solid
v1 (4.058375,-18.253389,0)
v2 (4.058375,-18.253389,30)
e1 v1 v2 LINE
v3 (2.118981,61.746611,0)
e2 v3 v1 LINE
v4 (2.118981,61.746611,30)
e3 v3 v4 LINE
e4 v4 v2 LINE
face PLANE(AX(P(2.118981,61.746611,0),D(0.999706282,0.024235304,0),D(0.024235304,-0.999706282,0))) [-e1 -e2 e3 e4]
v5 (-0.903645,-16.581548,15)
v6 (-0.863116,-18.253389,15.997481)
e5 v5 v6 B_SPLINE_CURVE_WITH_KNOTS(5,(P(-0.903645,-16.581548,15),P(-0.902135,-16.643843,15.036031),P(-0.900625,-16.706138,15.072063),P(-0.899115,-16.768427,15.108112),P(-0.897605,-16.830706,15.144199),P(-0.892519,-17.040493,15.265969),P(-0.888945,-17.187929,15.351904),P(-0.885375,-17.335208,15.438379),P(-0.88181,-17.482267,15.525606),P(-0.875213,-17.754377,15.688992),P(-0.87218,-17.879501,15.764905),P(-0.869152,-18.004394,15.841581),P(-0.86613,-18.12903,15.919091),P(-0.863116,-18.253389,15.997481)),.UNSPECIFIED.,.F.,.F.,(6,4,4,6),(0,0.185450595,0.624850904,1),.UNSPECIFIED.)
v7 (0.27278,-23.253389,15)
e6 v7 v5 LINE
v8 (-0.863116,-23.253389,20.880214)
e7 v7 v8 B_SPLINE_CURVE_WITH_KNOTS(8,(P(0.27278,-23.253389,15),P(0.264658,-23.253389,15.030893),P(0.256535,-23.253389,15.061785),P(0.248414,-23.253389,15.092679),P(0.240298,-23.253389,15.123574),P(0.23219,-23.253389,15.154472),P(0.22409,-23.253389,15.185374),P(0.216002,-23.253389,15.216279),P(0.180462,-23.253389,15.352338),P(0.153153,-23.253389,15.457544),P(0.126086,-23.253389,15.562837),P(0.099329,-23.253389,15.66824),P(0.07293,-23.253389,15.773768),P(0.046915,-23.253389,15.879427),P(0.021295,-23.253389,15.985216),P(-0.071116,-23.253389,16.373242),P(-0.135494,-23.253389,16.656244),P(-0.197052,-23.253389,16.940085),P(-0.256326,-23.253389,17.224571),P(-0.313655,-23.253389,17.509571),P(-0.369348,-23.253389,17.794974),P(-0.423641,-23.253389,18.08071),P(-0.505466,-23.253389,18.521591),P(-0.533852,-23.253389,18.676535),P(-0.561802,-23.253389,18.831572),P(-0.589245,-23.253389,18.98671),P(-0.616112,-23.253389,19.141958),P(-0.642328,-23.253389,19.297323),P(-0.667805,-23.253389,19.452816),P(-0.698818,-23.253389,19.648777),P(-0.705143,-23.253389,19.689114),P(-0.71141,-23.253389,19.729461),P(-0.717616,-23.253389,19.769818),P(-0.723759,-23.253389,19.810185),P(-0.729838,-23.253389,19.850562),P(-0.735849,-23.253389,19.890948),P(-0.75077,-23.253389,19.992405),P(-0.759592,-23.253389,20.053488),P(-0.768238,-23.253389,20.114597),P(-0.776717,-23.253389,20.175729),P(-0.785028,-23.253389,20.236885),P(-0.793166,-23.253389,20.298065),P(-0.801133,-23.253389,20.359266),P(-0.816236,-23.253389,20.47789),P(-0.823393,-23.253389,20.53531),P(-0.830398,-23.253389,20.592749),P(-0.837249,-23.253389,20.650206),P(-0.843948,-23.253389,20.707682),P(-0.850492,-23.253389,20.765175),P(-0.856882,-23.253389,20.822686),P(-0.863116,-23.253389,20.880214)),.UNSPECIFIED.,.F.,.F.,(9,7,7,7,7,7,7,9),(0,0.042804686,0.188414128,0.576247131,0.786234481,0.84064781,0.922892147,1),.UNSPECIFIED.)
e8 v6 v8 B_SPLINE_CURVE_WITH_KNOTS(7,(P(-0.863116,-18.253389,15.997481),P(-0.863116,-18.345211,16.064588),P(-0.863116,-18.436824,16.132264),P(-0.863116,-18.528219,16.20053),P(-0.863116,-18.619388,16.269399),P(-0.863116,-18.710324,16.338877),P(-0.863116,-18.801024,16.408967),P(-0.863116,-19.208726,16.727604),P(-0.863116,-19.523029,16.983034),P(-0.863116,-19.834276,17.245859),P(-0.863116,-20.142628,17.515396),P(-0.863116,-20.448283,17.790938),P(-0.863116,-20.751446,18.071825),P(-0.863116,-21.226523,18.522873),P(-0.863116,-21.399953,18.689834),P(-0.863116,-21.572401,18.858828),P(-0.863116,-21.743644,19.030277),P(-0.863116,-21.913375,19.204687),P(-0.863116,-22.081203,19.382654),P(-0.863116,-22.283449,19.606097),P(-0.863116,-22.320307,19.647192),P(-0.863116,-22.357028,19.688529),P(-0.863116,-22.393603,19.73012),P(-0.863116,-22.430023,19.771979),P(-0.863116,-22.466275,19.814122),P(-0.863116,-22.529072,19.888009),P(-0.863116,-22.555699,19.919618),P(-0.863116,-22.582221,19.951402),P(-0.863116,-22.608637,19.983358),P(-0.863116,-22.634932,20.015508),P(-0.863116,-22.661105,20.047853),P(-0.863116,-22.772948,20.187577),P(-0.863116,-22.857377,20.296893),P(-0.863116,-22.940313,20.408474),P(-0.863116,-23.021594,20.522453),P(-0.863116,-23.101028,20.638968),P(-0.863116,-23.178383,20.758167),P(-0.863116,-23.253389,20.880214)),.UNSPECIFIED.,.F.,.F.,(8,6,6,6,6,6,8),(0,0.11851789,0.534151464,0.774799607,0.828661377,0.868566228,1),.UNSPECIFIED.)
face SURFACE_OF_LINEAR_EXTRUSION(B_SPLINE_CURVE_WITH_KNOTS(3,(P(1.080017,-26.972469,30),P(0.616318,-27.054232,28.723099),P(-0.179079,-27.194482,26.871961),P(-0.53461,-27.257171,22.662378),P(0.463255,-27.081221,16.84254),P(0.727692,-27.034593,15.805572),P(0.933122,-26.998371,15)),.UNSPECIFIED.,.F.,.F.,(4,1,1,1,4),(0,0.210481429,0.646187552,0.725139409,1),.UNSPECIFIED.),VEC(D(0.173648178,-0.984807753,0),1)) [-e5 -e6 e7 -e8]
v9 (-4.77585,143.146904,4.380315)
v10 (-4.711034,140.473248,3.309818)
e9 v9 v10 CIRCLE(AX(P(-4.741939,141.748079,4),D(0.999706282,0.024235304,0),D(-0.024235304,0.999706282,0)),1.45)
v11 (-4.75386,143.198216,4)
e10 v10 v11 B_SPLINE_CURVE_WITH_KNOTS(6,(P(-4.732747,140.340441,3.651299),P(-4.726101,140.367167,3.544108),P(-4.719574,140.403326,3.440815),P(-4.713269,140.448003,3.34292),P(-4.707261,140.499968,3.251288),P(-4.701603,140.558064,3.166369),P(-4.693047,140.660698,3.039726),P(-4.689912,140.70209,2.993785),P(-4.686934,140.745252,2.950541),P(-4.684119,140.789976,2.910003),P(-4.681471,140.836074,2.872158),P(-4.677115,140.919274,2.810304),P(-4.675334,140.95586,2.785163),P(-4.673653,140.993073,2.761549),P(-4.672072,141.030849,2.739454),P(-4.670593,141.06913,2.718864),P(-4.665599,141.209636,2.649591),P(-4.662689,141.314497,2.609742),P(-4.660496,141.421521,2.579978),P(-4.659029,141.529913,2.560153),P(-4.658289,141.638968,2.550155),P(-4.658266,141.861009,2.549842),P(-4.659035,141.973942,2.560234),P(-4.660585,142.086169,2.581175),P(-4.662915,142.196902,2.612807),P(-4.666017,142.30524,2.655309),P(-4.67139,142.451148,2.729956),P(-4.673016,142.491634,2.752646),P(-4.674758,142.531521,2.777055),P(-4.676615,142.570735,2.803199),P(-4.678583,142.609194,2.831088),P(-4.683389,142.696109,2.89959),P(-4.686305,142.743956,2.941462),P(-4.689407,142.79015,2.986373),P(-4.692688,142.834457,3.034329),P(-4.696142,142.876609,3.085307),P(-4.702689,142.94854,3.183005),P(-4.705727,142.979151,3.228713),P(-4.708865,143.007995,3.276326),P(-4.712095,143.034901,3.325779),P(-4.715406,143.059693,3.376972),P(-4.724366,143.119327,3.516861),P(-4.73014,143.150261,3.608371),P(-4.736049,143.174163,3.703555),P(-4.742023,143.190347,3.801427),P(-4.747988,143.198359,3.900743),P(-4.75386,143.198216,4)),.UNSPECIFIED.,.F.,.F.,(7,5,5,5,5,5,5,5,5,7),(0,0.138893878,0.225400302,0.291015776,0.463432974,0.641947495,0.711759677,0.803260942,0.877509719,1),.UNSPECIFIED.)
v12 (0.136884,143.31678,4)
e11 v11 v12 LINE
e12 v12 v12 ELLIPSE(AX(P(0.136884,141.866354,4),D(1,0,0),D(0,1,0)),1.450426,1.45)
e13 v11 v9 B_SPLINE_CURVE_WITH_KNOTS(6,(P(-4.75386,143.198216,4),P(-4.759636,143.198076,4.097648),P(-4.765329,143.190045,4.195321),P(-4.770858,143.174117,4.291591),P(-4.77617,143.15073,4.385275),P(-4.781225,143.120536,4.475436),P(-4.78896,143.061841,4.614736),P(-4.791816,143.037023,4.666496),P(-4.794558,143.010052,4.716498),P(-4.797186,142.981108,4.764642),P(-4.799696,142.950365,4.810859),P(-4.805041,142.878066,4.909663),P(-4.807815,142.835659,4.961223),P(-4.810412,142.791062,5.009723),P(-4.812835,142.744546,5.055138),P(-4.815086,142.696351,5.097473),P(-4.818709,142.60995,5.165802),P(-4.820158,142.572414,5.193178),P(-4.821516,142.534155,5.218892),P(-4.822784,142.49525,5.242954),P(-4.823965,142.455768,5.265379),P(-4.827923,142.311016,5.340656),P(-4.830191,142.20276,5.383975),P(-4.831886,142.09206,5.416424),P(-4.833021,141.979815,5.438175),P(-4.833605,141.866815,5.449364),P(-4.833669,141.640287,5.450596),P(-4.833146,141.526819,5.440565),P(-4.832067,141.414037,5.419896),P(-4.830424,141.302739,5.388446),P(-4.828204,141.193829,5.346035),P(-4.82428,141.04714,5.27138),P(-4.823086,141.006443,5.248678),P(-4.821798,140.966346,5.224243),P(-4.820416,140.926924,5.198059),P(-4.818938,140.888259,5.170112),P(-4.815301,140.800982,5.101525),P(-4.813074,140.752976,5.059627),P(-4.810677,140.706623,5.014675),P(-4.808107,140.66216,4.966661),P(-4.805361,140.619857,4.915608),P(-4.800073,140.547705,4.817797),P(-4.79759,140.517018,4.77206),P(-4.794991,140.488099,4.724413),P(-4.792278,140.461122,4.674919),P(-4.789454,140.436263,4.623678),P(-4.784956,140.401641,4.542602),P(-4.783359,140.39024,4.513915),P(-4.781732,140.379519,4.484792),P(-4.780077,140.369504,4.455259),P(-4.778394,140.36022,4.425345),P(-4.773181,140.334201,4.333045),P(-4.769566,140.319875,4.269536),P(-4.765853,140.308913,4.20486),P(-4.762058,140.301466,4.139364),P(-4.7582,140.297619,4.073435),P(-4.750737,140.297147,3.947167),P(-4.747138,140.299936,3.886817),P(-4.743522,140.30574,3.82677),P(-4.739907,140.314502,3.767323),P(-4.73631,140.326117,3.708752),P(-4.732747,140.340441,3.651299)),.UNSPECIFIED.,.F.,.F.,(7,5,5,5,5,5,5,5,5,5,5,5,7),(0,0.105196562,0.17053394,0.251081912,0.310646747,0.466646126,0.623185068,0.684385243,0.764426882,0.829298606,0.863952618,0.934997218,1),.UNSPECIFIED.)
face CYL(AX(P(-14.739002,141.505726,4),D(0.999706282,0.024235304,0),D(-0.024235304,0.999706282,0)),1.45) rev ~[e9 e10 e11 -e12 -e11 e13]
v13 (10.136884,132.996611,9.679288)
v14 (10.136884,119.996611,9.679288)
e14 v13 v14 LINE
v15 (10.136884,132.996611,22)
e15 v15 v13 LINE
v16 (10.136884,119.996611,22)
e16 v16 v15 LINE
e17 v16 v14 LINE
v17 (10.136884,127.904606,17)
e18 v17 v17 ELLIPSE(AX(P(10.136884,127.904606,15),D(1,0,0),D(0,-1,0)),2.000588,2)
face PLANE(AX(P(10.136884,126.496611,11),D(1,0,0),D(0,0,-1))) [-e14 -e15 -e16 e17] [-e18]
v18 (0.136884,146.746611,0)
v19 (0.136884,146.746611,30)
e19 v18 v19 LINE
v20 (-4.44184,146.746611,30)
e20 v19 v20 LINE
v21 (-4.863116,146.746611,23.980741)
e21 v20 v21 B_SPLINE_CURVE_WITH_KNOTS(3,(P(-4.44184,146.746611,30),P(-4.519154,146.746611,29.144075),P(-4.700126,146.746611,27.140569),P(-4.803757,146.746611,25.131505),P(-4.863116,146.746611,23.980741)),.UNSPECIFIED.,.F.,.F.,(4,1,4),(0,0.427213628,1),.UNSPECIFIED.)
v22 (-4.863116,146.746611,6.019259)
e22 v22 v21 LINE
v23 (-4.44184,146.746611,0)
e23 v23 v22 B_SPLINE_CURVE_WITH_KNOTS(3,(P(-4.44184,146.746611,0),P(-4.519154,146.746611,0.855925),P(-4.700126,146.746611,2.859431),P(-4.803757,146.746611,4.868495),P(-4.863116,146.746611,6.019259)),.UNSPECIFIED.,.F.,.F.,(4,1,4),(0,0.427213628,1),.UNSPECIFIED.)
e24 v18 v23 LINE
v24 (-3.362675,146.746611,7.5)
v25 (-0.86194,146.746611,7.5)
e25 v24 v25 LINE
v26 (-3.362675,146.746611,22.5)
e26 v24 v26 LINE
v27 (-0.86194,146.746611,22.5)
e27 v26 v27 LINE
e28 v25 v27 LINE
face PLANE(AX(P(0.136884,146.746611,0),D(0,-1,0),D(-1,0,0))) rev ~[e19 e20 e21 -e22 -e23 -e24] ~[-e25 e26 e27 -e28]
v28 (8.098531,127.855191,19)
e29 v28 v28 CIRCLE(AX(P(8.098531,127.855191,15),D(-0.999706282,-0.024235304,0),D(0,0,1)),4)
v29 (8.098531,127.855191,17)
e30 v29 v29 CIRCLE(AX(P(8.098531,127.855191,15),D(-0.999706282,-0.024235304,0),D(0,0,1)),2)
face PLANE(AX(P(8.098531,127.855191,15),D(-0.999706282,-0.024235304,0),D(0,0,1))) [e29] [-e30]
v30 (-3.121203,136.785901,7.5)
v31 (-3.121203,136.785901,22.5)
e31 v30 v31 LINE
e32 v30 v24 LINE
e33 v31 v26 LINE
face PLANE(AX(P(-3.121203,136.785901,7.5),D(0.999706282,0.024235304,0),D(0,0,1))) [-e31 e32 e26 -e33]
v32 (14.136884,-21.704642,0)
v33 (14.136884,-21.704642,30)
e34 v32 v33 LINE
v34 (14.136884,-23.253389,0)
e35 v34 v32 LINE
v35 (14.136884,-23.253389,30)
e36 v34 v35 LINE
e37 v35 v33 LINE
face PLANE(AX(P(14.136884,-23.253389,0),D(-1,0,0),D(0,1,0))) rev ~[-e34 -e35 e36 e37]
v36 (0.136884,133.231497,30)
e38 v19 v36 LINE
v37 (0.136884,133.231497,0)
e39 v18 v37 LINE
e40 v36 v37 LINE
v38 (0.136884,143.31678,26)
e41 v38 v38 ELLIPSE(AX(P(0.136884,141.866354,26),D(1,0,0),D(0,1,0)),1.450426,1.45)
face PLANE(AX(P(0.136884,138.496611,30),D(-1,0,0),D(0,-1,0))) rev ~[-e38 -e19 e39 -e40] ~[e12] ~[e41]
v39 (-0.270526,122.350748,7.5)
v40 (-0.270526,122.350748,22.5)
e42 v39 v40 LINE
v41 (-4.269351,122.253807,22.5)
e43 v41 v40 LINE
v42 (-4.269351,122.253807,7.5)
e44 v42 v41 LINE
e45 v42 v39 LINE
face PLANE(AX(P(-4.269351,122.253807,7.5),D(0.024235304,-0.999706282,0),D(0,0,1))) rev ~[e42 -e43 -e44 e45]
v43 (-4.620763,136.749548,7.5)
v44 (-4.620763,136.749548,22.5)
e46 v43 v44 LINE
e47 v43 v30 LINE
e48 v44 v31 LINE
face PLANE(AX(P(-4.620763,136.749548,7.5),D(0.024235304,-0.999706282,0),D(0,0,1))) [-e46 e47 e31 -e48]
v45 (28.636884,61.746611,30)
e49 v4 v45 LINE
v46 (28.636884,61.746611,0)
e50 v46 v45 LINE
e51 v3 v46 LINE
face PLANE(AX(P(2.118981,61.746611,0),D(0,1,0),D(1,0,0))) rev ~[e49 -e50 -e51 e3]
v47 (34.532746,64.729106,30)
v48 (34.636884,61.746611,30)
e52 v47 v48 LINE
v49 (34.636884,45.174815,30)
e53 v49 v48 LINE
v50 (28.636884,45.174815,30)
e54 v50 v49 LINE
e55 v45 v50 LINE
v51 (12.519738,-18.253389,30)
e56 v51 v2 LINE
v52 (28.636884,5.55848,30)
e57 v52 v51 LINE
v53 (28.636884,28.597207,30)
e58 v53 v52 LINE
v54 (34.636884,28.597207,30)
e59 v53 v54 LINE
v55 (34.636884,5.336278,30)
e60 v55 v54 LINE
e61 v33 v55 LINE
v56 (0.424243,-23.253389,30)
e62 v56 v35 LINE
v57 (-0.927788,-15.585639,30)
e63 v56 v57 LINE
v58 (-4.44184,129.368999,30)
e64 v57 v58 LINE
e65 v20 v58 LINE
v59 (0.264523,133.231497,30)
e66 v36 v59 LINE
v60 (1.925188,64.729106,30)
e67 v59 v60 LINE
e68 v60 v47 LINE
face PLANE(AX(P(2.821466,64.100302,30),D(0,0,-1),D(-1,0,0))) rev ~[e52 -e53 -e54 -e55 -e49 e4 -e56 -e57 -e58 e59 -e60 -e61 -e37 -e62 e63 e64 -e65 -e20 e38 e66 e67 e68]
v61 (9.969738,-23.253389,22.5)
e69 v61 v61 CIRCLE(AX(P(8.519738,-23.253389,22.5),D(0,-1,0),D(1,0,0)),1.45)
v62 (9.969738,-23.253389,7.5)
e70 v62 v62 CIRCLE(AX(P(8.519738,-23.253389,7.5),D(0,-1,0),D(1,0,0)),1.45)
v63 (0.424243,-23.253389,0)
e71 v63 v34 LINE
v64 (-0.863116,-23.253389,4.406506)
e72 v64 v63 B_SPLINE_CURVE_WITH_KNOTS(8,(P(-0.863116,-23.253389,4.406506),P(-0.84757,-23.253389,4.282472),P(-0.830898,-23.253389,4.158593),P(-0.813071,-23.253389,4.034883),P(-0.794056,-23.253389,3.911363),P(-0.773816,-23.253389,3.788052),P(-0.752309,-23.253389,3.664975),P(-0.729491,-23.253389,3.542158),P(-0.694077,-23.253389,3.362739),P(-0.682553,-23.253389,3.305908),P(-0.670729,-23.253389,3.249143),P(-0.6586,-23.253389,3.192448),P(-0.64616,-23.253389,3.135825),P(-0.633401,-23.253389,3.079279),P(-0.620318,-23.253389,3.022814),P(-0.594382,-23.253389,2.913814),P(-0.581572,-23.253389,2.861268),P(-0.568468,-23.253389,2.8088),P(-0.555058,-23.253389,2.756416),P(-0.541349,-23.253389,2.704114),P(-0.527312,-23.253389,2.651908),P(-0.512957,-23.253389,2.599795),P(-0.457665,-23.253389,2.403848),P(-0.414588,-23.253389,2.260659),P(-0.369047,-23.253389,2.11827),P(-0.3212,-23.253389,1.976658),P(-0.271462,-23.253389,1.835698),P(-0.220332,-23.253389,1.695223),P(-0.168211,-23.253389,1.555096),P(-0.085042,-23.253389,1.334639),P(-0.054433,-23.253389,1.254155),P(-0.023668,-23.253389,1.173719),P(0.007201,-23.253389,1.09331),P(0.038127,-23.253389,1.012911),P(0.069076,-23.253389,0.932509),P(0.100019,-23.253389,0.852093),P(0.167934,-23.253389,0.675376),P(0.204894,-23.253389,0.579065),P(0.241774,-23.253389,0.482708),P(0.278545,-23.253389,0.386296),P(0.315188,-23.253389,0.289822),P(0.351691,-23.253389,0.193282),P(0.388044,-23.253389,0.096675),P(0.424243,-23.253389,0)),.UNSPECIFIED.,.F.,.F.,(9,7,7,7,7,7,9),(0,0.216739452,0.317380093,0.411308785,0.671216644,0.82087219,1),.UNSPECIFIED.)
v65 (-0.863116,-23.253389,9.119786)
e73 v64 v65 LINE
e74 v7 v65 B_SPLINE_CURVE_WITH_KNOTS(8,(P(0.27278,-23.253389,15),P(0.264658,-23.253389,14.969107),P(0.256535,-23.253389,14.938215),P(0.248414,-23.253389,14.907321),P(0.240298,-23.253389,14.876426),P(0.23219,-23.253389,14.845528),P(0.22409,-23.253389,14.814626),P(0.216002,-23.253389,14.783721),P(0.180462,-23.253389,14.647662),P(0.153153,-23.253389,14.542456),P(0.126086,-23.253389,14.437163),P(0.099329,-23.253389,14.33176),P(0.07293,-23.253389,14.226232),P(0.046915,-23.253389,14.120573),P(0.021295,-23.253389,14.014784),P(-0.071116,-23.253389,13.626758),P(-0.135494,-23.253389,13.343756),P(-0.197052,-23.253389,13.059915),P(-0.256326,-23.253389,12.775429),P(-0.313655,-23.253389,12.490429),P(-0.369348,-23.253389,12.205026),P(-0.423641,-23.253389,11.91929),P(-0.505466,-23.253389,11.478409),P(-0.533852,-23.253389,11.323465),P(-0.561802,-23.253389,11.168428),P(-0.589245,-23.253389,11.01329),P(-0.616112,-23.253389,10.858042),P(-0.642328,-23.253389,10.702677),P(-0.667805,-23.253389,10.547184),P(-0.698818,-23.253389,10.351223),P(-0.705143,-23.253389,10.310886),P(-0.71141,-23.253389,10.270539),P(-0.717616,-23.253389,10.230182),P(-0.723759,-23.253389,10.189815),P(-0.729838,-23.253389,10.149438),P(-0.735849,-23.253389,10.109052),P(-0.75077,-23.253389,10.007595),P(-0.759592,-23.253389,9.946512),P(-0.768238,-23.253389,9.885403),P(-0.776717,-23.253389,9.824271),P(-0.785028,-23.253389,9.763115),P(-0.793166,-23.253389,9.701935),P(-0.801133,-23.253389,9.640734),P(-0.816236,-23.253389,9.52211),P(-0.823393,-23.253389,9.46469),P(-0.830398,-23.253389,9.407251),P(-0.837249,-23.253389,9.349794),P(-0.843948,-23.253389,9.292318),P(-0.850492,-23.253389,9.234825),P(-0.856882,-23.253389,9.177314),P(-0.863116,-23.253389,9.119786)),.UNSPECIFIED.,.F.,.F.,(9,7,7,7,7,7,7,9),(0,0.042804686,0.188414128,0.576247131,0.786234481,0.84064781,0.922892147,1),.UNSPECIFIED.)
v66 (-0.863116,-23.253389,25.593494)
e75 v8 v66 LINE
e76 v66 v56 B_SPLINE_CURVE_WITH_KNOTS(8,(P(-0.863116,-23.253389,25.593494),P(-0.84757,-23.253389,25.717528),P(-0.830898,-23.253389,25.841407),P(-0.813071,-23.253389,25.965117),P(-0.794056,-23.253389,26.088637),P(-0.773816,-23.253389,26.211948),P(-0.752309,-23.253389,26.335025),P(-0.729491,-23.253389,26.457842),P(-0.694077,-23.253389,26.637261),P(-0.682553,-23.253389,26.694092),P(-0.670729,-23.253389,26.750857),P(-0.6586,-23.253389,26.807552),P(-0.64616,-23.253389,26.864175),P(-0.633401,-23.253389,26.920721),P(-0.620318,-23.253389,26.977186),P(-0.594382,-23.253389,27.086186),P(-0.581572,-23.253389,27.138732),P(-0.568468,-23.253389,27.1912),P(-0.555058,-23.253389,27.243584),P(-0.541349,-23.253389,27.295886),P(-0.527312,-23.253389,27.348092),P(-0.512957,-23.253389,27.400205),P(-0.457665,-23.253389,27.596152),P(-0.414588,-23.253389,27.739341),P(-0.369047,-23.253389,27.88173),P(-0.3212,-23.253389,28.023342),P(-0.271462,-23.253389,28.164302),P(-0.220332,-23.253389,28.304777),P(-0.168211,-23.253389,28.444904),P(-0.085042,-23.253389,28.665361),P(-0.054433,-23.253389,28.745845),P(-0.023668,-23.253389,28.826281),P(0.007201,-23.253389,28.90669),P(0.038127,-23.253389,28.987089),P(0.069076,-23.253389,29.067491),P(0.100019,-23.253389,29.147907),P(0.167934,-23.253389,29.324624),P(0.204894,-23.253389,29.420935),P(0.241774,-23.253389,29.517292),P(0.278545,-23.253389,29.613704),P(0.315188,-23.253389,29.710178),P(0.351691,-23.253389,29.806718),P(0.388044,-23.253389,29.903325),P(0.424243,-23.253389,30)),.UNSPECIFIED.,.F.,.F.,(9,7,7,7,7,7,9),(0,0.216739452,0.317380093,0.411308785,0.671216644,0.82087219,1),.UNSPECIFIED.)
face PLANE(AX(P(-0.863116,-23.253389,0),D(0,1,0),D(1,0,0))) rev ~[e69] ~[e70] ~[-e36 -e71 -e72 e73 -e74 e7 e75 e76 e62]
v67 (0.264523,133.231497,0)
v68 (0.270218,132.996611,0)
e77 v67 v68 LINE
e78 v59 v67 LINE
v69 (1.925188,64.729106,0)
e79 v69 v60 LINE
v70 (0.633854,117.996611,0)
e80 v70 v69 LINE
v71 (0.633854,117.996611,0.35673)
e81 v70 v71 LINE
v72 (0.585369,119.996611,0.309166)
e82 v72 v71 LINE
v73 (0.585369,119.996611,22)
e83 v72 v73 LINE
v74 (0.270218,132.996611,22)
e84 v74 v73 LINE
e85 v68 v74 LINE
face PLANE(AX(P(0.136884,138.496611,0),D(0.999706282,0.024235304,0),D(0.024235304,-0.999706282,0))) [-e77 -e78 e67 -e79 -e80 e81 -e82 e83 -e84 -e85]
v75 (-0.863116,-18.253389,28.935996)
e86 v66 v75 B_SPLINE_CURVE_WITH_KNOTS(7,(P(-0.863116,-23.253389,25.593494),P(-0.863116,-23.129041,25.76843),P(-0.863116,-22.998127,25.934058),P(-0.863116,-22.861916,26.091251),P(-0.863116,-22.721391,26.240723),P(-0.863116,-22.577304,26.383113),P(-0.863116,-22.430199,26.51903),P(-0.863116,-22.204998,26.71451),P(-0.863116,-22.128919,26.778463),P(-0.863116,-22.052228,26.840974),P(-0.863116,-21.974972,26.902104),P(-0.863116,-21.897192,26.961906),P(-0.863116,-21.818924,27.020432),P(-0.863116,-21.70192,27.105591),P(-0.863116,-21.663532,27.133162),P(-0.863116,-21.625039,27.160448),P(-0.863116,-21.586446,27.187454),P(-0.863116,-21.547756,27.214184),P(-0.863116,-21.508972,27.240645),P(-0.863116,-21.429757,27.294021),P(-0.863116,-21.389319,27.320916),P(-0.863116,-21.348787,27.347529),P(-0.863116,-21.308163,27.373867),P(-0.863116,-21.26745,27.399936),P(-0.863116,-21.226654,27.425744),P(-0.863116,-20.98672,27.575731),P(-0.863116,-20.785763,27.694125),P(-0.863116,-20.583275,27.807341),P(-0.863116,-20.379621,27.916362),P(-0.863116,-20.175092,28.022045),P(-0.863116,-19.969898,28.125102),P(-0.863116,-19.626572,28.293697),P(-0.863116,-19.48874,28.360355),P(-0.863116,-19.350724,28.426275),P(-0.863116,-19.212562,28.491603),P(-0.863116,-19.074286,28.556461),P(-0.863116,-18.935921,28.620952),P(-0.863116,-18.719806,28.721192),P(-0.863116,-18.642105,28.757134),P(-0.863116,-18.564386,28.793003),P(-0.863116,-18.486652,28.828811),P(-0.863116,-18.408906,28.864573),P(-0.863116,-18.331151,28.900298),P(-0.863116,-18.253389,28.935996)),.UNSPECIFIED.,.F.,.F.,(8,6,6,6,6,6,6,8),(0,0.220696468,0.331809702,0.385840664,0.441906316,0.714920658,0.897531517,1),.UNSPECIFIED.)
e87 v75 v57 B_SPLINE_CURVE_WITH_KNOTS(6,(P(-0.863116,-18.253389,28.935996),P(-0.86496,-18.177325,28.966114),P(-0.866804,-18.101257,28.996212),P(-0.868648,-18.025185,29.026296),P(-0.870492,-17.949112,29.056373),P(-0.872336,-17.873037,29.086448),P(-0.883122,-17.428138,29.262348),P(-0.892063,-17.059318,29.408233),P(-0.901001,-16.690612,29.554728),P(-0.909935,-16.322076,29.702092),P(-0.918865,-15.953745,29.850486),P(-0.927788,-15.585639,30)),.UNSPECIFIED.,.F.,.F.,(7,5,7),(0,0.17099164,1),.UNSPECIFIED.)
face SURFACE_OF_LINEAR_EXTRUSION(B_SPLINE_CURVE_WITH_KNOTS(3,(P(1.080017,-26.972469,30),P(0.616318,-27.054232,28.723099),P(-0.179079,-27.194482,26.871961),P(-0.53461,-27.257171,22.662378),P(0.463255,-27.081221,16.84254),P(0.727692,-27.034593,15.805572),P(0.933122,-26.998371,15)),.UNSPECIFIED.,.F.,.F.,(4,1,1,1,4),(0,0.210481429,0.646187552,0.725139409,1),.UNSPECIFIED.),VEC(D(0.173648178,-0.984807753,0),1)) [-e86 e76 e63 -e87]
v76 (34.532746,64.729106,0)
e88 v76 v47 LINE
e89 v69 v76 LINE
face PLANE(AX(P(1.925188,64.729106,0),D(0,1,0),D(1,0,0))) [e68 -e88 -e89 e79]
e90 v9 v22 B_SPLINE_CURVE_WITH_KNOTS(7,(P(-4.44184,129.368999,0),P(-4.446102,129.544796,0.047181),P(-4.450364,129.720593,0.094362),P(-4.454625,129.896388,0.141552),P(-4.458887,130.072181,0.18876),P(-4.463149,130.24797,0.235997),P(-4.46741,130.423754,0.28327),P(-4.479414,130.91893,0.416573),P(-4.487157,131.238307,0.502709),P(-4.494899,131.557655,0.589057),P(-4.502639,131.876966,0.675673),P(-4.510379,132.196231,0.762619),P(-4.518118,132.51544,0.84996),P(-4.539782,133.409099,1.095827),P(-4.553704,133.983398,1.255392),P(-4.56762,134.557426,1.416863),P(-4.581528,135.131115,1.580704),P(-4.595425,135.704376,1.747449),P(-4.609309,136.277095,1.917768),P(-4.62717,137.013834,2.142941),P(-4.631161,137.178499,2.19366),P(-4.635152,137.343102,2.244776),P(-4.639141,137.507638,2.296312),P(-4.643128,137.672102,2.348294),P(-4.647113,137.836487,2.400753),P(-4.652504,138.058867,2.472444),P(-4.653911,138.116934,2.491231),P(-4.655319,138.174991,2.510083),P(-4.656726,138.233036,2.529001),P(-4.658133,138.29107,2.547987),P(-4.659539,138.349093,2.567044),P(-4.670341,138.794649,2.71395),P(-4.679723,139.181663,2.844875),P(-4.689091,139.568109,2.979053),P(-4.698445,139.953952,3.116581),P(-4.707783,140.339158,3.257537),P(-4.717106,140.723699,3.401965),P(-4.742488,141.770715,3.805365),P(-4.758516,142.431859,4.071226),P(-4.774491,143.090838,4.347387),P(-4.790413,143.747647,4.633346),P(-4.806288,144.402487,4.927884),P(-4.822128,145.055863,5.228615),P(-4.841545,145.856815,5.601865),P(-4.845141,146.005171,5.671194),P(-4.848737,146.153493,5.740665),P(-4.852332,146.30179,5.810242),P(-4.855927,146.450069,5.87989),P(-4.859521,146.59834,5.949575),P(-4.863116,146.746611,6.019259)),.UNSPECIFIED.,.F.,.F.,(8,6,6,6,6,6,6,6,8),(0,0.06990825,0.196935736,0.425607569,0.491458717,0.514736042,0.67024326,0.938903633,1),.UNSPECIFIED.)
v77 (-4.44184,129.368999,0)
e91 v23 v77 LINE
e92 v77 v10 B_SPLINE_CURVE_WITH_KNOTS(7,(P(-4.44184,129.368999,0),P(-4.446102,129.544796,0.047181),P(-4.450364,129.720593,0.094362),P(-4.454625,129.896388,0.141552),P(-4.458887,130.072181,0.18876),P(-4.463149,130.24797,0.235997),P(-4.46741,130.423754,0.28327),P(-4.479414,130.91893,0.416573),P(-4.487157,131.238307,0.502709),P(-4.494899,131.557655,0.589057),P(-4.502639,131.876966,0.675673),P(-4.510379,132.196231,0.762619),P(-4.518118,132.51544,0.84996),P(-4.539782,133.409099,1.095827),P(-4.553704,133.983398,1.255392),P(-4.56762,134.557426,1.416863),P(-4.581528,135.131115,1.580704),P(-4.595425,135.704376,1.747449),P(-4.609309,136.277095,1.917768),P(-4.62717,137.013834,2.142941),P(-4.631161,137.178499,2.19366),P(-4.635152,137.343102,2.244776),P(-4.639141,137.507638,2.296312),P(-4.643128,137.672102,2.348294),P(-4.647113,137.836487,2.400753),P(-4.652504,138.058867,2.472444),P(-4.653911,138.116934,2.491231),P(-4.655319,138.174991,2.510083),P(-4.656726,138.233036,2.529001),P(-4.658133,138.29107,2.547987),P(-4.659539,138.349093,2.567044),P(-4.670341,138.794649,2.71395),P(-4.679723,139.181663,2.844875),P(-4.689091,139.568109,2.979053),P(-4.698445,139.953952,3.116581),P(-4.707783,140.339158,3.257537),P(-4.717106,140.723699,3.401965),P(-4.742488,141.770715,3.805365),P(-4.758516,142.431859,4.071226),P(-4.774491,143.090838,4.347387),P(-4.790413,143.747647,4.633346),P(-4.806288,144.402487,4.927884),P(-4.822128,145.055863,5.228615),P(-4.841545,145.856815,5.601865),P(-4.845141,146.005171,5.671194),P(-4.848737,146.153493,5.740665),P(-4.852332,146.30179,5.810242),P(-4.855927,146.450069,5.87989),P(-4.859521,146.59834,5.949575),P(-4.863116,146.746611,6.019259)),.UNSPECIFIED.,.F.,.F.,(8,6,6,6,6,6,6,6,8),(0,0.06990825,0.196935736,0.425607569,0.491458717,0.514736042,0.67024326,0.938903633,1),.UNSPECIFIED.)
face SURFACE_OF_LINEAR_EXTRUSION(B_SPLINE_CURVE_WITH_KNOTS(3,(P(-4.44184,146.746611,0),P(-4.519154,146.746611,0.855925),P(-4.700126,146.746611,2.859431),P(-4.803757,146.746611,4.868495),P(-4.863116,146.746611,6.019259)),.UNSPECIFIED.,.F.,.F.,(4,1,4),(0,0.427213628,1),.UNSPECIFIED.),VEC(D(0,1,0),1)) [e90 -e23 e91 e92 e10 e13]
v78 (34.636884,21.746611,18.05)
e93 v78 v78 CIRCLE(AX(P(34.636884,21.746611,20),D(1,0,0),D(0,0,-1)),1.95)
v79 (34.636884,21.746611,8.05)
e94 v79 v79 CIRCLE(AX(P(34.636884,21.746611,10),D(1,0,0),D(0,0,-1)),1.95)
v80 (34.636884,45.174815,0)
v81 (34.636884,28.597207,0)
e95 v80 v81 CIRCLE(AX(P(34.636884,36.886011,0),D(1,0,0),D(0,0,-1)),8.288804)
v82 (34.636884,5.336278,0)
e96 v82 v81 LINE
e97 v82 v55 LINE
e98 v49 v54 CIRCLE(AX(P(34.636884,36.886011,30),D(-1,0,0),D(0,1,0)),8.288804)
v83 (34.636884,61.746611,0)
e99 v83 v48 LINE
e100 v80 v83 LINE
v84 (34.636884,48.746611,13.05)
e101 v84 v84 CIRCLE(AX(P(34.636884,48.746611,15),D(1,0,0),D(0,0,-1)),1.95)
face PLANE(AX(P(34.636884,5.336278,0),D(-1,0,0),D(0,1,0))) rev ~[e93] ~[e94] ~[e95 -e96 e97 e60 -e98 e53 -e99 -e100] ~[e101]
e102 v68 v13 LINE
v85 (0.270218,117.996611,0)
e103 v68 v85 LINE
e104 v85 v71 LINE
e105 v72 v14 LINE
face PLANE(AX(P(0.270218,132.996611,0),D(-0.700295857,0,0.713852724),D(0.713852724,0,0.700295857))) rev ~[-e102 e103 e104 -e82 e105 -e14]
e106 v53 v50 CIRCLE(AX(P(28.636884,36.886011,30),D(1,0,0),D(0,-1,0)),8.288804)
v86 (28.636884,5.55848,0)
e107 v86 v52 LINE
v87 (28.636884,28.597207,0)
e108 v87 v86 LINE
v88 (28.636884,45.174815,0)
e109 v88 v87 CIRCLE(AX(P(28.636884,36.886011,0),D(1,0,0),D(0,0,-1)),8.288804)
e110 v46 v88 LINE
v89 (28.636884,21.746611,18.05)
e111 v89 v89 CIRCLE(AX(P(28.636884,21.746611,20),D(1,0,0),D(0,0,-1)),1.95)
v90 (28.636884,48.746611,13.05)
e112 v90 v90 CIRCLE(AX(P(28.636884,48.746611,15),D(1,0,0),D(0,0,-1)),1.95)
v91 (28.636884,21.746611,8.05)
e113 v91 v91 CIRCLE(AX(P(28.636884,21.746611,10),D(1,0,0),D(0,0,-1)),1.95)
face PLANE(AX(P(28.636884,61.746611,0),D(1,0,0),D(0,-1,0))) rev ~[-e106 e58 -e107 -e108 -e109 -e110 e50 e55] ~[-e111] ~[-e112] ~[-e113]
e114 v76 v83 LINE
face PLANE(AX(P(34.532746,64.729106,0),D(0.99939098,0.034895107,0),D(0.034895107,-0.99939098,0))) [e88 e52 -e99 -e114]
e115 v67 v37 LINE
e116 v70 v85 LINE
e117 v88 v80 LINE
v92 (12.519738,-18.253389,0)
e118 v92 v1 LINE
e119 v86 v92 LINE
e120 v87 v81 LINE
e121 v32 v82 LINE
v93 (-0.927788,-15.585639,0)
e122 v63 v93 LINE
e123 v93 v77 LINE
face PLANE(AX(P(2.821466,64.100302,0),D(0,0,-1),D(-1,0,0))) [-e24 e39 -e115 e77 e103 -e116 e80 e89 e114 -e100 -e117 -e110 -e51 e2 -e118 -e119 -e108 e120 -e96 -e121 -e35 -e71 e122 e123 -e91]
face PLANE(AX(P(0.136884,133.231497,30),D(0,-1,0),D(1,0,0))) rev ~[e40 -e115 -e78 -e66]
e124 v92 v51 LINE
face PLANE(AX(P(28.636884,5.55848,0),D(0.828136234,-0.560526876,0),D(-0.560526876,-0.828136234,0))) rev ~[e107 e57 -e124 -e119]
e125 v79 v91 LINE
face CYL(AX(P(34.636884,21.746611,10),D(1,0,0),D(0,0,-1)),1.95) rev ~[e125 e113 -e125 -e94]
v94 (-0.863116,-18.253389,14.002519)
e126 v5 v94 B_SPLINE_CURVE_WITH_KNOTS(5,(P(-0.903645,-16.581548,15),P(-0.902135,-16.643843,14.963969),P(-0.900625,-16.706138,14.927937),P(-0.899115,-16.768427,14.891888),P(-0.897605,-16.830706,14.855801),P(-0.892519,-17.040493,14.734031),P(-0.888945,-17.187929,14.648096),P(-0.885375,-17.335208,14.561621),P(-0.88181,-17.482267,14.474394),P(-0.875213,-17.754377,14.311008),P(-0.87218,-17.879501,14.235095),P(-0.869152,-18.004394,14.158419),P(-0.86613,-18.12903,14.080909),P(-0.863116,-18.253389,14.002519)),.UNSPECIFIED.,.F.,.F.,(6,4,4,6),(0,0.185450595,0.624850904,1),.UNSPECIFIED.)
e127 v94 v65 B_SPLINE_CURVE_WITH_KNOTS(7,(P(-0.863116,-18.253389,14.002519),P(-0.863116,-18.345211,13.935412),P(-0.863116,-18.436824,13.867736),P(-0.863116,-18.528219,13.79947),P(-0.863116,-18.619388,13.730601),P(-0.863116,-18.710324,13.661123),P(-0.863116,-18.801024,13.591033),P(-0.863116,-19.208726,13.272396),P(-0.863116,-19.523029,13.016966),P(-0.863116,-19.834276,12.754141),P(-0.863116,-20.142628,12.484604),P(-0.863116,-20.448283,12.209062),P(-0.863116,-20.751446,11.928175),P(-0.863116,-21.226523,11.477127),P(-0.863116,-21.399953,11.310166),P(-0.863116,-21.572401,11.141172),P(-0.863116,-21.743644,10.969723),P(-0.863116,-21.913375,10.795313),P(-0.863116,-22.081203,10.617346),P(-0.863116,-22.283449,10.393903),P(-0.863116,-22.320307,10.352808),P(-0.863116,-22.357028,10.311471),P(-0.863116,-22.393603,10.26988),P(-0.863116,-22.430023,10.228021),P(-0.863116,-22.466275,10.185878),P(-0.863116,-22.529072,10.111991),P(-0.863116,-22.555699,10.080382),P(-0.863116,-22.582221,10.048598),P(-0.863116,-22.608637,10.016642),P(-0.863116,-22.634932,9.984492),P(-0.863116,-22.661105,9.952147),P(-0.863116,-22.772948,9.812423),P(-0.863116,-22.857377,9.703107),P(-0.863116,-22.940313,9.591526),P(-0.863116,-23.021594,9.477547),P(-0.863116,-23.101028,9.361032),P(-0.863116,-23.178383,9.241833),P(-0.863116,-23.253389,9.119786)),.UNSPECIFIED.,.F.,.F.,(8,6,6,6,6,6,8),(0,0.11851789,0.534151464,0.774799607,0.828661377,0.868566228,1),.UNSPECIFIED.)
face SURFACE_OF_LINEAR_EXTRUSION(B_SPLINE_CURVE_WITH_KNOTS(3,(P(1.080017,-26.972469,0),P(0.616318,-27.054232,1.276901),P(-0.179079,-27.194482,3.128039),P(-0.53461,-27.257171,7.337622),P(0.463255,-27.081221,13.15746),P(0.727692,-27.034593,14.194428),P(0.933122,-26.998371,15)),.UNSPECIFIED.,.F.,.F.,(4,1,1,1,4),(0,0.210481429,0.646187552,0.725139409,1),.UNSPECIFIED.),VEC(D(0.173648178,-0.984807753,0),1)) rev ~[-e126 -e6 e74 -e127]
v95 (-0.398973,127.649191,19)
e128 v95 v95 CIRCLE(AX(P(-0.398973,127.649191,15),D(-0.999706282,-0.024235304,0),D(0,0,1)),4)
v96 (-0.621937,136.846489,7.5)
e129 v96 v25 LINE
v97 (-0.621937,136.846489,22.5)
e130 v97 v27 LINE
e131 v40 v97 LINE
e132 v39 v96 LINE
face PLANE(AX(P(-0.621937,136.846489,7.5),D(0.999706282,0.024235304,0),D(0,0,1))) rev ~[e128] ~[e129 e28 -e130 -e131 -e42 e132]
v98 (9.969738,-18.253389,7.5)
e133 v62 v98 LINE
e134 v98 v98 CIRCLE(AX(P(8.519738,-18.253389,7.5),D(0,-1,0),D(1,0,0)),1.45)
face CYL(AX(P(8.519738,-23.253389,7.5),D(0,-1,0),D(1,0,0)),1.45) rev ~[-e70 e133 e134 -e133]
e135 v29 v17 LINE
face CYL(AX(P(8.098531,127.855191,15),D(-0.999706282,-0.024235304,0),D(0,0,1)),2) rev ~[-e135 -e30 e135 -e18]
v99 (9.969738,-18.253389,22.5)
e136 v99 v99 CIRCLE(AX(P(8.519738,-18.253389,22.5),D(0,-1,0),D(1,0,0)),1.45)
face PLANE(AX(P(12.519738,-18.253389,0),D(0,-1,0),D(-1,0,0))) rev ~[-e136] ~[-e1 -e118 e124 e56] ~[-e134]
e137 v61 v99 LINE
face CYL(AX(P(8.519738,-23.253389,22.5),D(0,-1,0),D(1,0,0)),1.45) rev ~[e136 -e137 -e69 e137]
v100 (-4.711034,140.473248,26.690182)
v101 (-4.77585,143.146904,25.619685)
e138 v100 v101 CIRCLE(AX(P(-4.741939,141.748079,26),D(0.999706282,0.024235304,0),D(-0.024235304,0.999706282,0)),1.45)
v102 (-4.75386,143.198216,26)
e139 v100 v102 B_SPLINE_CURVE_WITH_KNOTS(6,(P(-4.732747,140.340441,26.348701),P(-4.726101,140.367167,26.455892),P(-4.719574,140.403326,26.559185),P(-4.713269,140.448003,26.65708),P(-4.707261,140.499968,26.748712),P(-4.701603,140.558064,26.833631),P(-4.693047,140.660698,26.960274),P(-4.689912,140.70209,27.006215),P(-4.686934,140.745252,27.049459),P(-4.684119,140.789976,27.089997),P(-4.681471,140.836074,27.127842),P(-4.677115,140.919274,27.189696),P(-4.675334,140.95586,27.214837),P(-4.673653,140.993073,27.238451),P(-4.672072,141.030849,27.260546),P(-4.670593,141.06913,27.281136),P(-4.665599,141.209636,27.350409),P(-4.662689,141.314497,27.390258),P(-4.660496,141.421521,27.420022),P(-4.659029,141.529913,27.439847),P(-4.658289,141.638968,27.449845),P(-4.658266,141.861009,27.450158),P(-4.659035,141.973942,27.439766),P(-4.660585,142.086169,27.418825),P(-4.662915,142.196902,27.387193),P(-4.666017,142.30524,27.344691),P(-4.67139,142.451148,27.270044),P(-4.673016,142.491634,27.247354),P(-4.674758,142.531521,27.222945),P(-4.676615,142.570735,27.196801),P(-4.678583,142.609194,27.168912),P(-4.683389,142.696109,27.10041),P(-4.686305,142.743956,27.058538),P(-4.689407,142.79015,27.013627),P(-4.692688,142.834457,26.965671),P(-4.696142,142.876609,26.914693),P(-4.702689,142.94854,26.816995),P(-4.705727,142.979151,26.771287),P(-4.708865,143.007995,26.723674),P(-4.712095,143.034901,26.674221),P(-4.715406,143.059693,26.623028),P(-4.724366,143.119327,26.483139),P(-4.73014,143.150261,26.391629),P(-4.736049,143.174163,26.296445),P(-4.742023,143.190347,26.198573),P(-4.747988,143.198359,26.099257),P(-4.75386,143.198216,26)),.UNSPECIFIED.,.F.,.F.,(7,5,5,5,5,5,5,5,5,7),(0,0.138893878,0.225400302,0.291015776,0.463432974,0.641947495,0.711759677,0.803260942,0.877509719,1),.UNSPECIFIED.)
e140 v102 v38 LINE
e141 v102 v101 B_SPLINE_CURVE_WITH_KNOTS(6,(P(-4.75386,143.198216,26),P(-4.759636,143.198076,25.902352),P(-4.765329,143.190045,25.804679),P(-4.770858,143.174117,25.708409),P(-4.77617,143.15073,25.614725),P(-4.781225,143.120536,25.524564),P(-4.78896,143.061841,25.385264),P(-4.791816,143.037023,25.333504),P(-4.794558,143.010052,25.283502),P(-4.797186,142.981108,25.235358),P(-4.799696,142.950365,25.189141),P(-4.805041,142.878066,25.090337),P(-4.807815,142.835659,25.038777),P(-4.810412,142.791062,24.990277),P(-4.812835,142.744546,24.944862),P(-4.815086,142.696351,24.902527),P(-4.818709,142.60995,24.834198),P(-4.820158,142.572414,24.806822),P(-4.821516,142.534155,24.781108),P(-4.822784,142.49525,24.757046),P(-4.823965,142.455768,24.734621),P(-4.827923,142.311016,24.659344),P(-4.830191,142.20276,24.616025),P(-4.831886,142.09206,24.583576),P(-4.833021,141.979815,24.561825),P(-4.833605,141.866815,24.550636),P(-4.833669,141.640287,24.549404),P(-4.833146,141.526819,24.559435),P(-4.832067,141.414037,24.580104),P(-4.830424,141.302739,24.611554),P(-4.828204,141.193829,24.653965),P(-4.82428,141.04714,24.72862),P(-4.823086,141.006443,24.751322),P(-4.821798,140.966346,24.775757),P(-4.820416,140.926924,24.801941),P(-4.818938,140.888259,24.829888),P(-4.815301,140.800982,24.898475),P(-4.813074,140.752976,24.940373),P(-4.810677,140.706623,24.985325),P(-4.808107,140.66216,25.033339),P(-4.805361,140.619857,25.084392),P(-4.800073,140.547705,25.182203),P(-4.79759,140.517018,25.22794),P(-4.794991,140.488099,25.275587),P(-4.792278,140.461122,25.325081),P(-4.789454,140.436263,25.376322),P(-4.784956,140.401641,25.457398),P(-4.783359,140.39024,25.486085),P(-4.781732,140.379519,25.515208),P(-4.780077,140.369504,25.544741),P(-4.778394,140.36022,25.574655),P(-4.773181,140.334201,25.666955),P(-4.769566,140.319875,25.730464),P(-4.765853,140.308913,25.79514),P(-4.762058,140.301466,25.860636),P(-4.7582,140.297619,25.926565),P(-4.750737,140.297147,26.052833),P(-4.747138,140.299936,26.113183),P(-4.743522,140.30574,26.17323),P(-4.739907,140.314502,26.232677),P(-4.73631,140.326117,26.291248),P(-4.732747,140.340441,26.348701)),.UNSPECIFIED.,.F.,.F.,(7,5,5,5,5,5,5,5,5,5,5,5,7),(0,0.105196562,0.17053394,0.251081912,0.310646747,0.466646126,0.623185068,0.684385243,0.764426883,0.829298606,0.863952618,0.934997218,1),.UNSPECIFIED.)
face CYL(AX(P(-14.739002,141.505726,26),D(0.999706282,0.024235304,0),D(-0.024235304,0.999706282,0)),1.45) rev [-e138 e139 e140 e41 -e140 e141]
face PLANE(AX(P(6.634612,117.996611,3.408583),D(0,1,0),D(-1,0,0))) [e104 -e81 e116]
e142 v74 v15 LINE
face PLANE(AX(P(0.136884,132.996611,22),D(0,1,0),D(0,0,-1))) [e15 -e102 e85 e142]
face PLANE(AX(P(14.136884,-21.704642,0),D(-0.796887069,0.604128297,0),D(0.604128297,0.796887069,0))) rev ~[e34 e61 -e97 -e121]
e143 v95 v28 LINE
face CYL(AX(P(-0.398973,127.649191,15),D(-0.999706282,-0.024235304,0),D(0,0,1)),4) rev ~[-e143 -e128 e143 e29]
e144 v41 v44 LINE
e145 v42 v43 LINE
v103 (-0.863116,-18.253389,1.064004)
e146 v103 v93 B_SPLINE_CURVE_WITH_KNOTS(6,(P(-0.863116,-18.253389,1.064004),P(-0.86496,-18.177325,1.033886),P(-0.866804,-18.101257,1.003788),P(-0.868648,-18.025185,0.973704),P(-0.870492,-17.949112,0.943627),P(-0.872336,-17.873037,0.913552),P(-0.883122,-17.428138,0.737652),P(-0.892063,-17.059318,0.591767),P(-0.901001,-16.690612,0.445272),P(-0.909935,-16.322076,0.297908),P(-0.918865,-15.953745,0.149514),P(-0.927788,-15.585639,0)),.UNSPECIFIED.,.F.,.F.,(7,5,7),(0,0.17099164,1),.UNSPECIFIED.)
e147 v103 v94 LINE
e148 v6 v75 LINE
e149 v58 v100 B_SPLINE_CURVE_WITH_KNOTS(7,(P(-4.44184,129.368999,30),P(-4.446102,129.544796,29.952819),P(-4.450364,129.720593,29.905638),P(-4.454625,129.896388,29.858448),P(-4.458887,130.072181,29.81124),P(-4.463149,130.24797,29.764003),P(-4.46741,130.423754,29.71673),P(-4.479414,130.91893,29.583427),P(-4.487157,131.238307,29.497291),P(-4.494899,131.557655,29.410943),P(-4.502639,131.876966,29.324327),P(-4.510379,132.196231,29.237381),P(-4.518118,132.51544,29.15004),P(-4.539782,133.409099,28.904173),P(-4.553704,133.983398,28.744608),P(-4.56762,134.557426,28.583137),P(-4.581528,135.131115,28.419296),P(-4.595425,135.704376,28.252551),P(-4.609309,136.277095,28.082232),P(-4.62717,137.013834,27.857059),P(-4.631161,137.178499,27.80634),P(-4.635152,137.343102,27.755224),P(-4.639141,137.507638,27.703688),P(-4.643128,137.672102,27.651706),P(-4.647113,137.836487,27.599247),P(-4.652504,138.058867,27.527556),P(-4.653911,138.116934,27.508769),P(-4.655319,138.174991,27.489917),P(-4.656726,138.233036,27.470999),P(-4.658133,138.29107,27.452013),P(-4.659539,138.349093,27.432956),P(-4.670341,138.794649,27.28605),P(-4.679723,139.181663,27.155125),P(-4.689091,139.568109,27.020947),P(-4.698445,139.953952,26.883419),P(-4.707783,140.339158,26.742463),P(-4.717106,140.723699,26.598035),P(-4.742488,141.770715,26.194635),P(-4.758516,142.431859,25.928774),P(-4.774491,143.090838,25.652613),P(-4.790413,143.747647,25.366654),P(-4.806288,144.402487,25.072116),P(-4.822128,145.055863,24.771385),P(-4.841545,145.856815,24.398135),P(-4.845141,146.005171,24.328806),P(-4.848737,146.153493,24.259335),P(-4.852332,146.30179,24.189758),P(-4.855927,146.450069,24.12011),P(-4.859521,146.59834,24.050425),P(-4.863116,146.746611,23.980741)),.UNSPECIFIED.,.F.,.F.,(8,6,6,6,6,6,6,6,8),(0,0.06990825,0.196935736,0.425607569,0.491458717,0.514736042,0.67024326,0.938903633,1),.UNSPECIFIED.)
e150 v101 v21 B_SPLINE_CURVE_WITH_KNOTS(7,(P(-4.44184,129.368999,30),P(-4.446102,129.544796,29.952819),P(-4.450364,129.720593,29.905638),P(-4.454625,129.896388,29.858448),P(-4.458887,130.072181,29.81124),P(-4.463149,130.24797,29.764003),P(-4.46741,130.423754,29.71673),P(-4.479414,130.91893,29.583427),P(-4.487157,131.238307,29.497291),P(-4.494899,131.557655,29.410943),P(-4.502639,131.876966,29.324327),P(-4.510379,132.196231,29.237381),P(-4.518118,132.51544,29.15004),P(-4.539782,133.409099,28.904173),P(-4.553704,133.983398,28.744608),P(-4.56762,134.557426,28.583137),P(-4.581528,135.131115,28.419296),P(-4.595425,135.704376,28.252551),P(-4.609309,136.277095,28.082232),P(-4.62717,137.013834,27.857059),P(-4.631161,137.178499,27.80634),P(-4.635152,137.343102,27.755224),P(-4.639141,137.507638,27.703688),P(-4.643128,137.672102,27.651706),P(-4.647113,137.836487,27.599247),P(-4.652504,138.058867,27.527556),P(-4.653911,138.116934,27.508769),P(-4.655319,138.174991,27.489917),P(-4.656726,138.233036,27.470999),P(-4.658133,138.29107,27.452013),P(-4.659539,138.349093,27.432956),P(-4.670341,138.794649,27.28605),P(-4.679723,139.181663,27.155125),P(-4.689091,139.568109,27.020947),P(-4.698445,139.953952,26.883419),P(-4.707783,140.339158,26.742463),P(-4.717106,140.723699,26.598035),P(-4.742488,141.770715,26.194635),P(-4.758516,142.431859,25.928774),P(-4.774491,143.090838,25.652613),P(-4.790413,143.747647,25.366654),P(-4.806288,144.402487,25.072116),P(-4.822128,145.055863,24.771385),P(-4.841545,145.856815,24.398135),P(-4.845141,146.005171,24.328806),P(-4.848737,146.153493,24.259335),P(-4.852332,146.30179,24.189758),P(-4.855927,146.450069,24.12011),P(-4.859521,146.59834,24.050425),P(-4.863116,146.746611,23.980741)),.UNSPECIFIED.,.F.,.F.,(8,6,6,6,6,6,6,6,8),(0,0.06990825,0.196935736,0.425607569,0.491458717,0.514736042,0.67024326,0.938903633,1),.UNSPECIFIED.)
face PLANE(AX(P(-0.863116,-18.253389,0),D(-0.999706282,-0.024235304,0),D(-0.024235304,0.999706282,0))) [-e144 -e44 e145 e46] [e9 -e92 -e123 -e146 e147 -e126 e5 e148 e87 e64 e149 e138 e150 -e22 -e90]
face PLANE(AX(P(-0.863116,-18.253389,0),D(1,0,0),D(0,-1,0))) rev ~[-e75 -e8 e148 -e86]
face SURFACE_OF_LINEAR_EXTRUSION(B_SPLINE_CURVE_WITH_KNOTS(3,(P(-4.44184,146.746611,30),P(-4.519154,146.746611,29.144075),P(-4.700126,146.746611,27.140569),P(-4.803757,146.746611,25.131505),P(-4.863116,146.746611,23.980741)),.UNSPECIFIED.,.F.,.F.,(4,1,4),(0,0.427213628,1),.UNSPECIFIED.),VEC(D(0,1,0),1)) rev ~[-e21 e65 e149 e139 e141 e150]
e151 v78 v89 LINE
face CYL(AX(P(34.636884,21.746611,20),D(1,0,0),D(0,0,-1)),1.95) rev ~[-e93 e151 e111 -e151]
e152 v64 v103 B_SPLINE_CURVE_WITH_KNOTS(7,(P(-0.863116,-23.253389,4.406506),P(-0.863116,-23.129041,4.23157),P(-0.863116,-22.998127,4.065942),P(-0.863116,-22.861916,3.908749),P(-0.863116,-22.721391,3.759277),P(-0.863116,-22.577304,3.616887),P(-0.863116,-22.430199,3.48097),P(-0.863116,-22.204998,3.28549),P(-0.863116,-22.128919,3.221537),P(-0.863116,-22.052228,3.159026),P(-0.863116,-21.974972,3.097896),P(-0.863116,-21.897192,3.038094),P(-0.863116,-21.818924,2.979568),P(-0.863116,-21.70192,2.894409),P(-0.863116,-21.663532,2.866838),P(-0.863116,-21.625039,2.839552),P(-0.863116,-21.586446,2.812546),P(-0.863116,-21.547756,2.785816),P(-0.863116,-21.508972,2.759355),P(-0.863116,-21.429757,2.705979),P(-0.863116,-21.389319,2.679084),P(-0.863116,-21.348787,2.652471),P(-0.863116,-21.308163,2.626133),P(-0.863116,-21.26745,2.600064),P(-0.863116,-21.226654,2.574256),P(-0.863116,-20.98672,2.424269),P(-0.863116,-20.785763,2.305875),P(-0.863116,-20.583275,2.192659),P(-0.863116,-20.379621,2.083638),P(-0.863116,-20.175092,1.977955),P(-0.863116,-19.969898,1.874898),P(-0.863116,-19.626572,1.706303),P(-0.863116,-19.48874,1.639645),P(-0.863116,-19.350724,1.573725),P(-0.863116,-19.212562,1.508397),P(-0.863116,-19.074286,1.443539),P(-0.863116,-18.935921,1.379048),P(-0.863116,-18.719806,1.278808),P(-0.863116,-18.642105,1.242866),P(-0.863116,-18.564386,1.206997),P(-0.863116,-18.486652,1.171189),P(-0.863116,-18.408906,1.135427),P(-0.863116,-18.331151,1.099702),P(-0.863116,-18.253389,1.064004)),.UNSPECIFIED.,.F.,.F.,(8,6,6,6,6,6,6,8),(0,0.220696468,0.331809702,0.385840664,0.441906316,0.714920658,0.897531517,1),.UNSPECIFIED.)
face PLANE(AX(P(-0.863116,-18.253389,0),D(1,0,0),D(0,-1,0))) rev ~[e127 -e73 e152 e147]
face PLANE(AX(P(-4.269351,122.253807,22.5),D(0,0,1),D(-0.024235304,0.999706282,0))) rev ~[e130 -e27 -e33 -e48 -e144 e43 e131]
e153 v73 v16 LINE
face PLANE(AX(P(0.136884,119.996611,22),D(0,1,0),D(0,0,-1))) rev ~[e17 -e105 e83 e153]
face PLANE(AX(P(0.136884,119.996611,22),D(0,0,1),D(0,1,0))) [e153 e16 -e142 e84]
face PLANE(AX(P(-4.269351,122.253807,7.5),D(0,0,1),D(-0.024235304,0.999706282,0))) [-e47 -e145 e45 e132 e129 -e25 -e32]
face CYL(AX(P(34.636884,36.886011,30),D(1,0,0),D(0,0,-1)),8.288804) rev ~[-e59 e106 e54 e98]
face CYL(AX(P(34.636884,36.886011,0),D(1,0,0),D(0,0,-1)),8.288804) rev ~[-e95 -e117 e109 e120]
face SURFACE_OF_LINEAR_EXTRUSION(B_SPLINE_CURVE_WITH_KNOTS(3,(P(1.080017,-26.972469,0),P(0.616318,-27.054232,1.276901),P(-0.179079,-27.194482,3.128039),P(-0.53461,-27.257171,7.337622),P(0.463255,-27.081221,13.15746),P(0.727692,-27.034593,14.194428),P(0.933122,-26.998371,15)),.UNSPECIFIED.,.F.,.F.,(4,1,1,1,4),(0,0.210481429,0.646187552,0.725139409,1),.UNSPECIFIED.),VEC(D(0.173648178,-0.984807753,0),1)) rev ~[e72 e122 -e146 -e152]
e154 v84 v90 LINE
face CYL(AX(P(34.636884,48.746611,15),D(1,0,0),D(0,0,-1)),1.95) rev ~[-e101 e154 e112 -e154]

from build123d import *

# Parameters (mm, degrees)
EXTRUDE1_DEPTH                 = 30
EXTRUDE2_DEPTH                 = 30
SKETCH4_R                      = 8.288803623
EXTRUDE4_DEPTH                 = 30
SKETCH5_R                      = 1.95
EXTRUDE5_DEPTH                 = 20
SKETCH6_R                      = 1.95
EXTRUDE6_DEPTH                 = 20
SKETCH9_R                      = 1.45
EXTRUDE9_DEPTH                 = 20
EXTRUDE12_DEPTH                = 171
EXTRUDE15_START                = -4
EXTRUDE15_DEPTH                = 14
SKETCH17_W                     = 15
SKETCH17_H                     = 14.5
EXTRUDE17_DEPTH                = 4
SKETCH18_W                     = 2.5
SKETCH18_H                     = 15
EXTRUDE18_DEPTH                = 10
SKETCH19_W                     = 22
SKETCH19_H                     = 13
EXTRUDE19_DEPTH                = 10
SKETCH20_R                     = 4
EXTRUDE20_DEPTH                = 8.5
SKETCH21_R                     = 2
EXTRUDE21_DEPTH                = 9
EXTRUDE22_DEPTH                = 15
F_2_9_2_9_DIAMETER_HOLE1_D     = 2.9
F_2_9_2_9_DIAMETER_HOLE1_DEPTH = 10
EXTRUDE23_DEPTH                = 32


with BuildPart() as part:
    # Sketch1 → Extrude1 (new body)
    with BuildSketch(Plane.XY):
        Polygon((-0.863115633, -23.253389327), (14.136884367, -23.253389327), (14.136884367, -21.7046417), (34.636884367, 5.336278221), (34.636884367, 61.746610673), (28.636884367, 61.746610673), (28.636884367, 5.55848015), (12.519738096, -18.253389327), (-0.863115633, -18.253389327), align=None)
    extrude(amount=EXTRUDE1_DEPTH)

    # Sketch2 → Extrude2 (add)
    with BuildSketch(Plane.XY):
        Polygon((-0.863115633, -18.253389327), (-4.863115633, 146.746610673), (-0.063115633, 146.746610673), (0.136884367, 146.746610673), (0.136884367, 138.496610673), (1.925187517, 64.729105762), (34.532746461, 64.729105762), (34.636884367, 61.746610673), (28.636884367, 61.746610673), (2.118981118, 61.746610673), (4.058375057, -18.253389327), align=None)
    extrude(amount=EXTRUDE2_DEPTH)

    # Sketch4 → Extrude4 (cut)
    with BuildSketch(Plane(origin=(34.636884367, 0, 0), x_dir=(0, 0, -1), z_dir=(1, 0, 0))):
        with Locations((0, 36.886010892)):
            Circle(SKETCH4_R)
        with Locations((-30, 36.886010892)):
            Circle(SKETCH4_R)
    extrude(amount=-EXTRUDE4_DEPTH, mode=Mode.SUBTRACT)

    # Sketch5 → Extrude5 (cut)
    with BuildSketch(Plane(origin=(34.636884367, 0, 0), x_dir=(0, 0, -1), z_dir=(1, 0, 0))):
        with Locations((-20, 21.746610673)):
            Circle(SKETCH5_R)
        with Locations((-10, 21.746610673)):
            Circle(SKETCH5_R)
    extrude(amount=-EXTRUDE5_DEPTH, mode=Mode.SUBTRACT)

    # Sketch6 → Extrude6 (cut)
    with BuildSketch(Plane(origin=(34.636884367, 0, 0), x_dir=(0, 0, -1), z_dir=(1, 0, 0))):
        with Locations((-15, 48.746610673)):
            Circle(SKETCH6_R)
    extrude(amount=-EXTRUDE6_DEPTH, mode=Mode.SUBTRACT)

    # Sketch9 → Extrude9 (cut)
    with BuildSketch(Plane.XZ.offset(23.253389327)):
        with Locations((8.519738096, 7.5)):
            Circle(SKETCH9_R)
        with Locations((8.519738096, 22.5)):
            Circle(SKETCH9_R)
    extrude(amount=-EXTRUDE9_DEPTH, mode=Mode.SUBTRACT)

    # Sketch14 → Extrude12 (cut, through all)
    with BuildSketch(Plane(origin=(0, 146.746610673, 0), x_dir=(-1, 0, 0), z_dir=(0, 1, 0))):
        with BuildLine():
            Line((4.441840203, 0), (4.863115633, 0))
            Line((4.863115633, 0), (4.863115633, 6.019259174))
            add(Edge.make_bspline(
                [(4.441840203, 0), (4.519153962, 0.855924936), (4.700126089, 2.859430629), (4.803757165, 4.868494671), (4.863115633, 6.019259174)],
                knots=[0, 0, 0, 0, 0.427213628, 1, 1, 1, 1], degree=3))
        make_face()
    extrude12 = extrude(amount=-EXTRUDE12_DEPTH, mode=Mode.SUBTRACT)

    # Sketch15 → Extrude15 (cut)
    with BuildSketch(Plane(origin=(-1.713118599, -23.403267784, 0), x_dir=(-0.984807753, -0.173648178, 0), z_dir=(-0.173648178, 0.984807753, 0)).offset(EXTRUDE15_START)):
        with BuildLine():
            Line((-1.981754914, 15), (2.058740939, 15))
            Line((2.058740939, 15), (2.058740939, 30))
            Line((2.058740939, 30), (-2.130916258, 30))
            add(Edge.make_bspline(
                [(-2.130916258, 30), (-1.660064232, 28.72309887), (-0.852396925, 26.871960577), (-0.491380927, 22.662378444), (-1.504639477, 16.84253988), (-1.773156449, 15.805572323), (-1.981754914, 15)],
                knots=[0, 0, 0, 0, 0.210481429, 0.646187552, 0.725139409, 1, 1, 1, 1], degree=3))
        make_face()
    extrude15 = extrude(amount=EXTRUDE15_DEPTH, mode=Mode.SUBTRACT)

    # Sketch17 → Extrude17 (cut)
    with BuildSketch(Plane(origin=(-1.304855183, -0.031632853, 0), x_dir=(0, 0, 1), z_dir=(-0.999706282, -0.024235304, 0))):
        with Locations((15, 129.571367621)):
            Rectangle(SKETCH17_W, SKETCH17_H)
    extrude(amount=-EXTRUDE17_DEPTH, mode=Mode.SUBTRACT)

    # Sketch18 → Extrude18 (cut)
    with BuildSketch(Plane(origin=(-3.315907411, 136.781180707, 0), x_dir=(0.999706282, 0.024235304, 0), z_dir=(0.024235304, -0.999706282, 0))):
        with Locations((1.444761444, 15)):
            Rectangle(SKETCH18_W, SKETCH18_H)
    extrude(amount=-EXTRUDE18_DEPTH, mode=Mode.SUBTRACT)

    # Sketch19 → Extrude19 (add)
    with BuildSketch(Plane(origin=(0.136884367, 0, 0), x_dir=(0, 0, -1), z_dir=(1, 0, 0))):
        with Locations((-11, 126.496610673)):
            Rectangle(SKETCH19_W, SKETCH19_H)
    extrude(amount=EXTRUDE19_DEPTH)

    # Sketch20 → Extrude20 (cut)
    with BuildSketch(Plane(origin=(2.693969944, 0.065308362, 0), x_dir=(0, 0, 1), z_dir=(-0.999706282, -0.024235304, 0))):
        with Locations((15, 127.621367621)):
            Circle(SKETCH20_R)
    extrude(amount=-EXTRUDE20_DEPTH, mode=Mode.SUBTRACT)

    # Sketch21 → Extrude21 (cut)
    with BuildSketch(Plane(origin=(11.19147334, 0.271308445, 0), x_dir=(0, 0, 1), z_dir=(-0.999706282, -0.024235304, 0))):
        with Locations((15, 127.621367621)):
            Circle(SKETCH21_R)
    extrude(amount=-EXTRUDE21_DEPTH, mode=Mode.SUBTRACT)

    # Sketch22 → Extrude22 (cut)
    with BuildSketch(Plane(origin=(0, 132.996610673, 0), x_dir=(-1, 0, 0), z_dir=(0, 1, 0))):
        Polygon((-0.270217701, 0), (-10.136884367, 9.679287559), (-10.136884367, 0), align=None)
    extrude(amount=-EXTRUDE22_DEPTH, mode=Mode.SUBTRACT)

    # Mirror1: Extrude12 across plane
    add(extrude12.mirror(Plane.XY.offset(15)), mode=Mode.SUBTRACT)

    # Mirror2: Extrude15 across plane
    add(extrude15.mirror(Plane.XY.offset(15)), mode=Mode.SUBTRACT)

    # Ø2.9 (2.9) Diameter Hole1
    with Locations(Plane(origin=(-4.741939114, 141.748079264, 4), x_dir=(0.024235304, -0.999706282, 0), z_dir=(-0.999706282, -0.024235304, 0))):
        with Locations((0, 0)):
            f_2_9_2_9_diameter_hole1 = Hole(F_2_9_2_9_DIAMETER_HOLE1_D / 2, depth=F_2_9_2_9_DIAMETER_HOLE1_DEPTH)

    # Mirror3: Ø2.9 (2.9) Diameter Hole1 across plane
    add(f_2_9_2_9_diameter_hole1.mirror(Plane.XY.offset(15)), mode=Mode.SUBTRACT)

    # Sketch24 → Extrude23 (cut)
    with BuildSketch(Plane.XY.offset(30)):
        Polygon((0.136884367, 138.496610673), (0.136884367, 133.231496822), (0.638228483, 133.231496822), align=None)
    extrude(amount=-EXTRUDE23_DEPTH, mode=Mode.SUBTRACT)


solid = part.part
